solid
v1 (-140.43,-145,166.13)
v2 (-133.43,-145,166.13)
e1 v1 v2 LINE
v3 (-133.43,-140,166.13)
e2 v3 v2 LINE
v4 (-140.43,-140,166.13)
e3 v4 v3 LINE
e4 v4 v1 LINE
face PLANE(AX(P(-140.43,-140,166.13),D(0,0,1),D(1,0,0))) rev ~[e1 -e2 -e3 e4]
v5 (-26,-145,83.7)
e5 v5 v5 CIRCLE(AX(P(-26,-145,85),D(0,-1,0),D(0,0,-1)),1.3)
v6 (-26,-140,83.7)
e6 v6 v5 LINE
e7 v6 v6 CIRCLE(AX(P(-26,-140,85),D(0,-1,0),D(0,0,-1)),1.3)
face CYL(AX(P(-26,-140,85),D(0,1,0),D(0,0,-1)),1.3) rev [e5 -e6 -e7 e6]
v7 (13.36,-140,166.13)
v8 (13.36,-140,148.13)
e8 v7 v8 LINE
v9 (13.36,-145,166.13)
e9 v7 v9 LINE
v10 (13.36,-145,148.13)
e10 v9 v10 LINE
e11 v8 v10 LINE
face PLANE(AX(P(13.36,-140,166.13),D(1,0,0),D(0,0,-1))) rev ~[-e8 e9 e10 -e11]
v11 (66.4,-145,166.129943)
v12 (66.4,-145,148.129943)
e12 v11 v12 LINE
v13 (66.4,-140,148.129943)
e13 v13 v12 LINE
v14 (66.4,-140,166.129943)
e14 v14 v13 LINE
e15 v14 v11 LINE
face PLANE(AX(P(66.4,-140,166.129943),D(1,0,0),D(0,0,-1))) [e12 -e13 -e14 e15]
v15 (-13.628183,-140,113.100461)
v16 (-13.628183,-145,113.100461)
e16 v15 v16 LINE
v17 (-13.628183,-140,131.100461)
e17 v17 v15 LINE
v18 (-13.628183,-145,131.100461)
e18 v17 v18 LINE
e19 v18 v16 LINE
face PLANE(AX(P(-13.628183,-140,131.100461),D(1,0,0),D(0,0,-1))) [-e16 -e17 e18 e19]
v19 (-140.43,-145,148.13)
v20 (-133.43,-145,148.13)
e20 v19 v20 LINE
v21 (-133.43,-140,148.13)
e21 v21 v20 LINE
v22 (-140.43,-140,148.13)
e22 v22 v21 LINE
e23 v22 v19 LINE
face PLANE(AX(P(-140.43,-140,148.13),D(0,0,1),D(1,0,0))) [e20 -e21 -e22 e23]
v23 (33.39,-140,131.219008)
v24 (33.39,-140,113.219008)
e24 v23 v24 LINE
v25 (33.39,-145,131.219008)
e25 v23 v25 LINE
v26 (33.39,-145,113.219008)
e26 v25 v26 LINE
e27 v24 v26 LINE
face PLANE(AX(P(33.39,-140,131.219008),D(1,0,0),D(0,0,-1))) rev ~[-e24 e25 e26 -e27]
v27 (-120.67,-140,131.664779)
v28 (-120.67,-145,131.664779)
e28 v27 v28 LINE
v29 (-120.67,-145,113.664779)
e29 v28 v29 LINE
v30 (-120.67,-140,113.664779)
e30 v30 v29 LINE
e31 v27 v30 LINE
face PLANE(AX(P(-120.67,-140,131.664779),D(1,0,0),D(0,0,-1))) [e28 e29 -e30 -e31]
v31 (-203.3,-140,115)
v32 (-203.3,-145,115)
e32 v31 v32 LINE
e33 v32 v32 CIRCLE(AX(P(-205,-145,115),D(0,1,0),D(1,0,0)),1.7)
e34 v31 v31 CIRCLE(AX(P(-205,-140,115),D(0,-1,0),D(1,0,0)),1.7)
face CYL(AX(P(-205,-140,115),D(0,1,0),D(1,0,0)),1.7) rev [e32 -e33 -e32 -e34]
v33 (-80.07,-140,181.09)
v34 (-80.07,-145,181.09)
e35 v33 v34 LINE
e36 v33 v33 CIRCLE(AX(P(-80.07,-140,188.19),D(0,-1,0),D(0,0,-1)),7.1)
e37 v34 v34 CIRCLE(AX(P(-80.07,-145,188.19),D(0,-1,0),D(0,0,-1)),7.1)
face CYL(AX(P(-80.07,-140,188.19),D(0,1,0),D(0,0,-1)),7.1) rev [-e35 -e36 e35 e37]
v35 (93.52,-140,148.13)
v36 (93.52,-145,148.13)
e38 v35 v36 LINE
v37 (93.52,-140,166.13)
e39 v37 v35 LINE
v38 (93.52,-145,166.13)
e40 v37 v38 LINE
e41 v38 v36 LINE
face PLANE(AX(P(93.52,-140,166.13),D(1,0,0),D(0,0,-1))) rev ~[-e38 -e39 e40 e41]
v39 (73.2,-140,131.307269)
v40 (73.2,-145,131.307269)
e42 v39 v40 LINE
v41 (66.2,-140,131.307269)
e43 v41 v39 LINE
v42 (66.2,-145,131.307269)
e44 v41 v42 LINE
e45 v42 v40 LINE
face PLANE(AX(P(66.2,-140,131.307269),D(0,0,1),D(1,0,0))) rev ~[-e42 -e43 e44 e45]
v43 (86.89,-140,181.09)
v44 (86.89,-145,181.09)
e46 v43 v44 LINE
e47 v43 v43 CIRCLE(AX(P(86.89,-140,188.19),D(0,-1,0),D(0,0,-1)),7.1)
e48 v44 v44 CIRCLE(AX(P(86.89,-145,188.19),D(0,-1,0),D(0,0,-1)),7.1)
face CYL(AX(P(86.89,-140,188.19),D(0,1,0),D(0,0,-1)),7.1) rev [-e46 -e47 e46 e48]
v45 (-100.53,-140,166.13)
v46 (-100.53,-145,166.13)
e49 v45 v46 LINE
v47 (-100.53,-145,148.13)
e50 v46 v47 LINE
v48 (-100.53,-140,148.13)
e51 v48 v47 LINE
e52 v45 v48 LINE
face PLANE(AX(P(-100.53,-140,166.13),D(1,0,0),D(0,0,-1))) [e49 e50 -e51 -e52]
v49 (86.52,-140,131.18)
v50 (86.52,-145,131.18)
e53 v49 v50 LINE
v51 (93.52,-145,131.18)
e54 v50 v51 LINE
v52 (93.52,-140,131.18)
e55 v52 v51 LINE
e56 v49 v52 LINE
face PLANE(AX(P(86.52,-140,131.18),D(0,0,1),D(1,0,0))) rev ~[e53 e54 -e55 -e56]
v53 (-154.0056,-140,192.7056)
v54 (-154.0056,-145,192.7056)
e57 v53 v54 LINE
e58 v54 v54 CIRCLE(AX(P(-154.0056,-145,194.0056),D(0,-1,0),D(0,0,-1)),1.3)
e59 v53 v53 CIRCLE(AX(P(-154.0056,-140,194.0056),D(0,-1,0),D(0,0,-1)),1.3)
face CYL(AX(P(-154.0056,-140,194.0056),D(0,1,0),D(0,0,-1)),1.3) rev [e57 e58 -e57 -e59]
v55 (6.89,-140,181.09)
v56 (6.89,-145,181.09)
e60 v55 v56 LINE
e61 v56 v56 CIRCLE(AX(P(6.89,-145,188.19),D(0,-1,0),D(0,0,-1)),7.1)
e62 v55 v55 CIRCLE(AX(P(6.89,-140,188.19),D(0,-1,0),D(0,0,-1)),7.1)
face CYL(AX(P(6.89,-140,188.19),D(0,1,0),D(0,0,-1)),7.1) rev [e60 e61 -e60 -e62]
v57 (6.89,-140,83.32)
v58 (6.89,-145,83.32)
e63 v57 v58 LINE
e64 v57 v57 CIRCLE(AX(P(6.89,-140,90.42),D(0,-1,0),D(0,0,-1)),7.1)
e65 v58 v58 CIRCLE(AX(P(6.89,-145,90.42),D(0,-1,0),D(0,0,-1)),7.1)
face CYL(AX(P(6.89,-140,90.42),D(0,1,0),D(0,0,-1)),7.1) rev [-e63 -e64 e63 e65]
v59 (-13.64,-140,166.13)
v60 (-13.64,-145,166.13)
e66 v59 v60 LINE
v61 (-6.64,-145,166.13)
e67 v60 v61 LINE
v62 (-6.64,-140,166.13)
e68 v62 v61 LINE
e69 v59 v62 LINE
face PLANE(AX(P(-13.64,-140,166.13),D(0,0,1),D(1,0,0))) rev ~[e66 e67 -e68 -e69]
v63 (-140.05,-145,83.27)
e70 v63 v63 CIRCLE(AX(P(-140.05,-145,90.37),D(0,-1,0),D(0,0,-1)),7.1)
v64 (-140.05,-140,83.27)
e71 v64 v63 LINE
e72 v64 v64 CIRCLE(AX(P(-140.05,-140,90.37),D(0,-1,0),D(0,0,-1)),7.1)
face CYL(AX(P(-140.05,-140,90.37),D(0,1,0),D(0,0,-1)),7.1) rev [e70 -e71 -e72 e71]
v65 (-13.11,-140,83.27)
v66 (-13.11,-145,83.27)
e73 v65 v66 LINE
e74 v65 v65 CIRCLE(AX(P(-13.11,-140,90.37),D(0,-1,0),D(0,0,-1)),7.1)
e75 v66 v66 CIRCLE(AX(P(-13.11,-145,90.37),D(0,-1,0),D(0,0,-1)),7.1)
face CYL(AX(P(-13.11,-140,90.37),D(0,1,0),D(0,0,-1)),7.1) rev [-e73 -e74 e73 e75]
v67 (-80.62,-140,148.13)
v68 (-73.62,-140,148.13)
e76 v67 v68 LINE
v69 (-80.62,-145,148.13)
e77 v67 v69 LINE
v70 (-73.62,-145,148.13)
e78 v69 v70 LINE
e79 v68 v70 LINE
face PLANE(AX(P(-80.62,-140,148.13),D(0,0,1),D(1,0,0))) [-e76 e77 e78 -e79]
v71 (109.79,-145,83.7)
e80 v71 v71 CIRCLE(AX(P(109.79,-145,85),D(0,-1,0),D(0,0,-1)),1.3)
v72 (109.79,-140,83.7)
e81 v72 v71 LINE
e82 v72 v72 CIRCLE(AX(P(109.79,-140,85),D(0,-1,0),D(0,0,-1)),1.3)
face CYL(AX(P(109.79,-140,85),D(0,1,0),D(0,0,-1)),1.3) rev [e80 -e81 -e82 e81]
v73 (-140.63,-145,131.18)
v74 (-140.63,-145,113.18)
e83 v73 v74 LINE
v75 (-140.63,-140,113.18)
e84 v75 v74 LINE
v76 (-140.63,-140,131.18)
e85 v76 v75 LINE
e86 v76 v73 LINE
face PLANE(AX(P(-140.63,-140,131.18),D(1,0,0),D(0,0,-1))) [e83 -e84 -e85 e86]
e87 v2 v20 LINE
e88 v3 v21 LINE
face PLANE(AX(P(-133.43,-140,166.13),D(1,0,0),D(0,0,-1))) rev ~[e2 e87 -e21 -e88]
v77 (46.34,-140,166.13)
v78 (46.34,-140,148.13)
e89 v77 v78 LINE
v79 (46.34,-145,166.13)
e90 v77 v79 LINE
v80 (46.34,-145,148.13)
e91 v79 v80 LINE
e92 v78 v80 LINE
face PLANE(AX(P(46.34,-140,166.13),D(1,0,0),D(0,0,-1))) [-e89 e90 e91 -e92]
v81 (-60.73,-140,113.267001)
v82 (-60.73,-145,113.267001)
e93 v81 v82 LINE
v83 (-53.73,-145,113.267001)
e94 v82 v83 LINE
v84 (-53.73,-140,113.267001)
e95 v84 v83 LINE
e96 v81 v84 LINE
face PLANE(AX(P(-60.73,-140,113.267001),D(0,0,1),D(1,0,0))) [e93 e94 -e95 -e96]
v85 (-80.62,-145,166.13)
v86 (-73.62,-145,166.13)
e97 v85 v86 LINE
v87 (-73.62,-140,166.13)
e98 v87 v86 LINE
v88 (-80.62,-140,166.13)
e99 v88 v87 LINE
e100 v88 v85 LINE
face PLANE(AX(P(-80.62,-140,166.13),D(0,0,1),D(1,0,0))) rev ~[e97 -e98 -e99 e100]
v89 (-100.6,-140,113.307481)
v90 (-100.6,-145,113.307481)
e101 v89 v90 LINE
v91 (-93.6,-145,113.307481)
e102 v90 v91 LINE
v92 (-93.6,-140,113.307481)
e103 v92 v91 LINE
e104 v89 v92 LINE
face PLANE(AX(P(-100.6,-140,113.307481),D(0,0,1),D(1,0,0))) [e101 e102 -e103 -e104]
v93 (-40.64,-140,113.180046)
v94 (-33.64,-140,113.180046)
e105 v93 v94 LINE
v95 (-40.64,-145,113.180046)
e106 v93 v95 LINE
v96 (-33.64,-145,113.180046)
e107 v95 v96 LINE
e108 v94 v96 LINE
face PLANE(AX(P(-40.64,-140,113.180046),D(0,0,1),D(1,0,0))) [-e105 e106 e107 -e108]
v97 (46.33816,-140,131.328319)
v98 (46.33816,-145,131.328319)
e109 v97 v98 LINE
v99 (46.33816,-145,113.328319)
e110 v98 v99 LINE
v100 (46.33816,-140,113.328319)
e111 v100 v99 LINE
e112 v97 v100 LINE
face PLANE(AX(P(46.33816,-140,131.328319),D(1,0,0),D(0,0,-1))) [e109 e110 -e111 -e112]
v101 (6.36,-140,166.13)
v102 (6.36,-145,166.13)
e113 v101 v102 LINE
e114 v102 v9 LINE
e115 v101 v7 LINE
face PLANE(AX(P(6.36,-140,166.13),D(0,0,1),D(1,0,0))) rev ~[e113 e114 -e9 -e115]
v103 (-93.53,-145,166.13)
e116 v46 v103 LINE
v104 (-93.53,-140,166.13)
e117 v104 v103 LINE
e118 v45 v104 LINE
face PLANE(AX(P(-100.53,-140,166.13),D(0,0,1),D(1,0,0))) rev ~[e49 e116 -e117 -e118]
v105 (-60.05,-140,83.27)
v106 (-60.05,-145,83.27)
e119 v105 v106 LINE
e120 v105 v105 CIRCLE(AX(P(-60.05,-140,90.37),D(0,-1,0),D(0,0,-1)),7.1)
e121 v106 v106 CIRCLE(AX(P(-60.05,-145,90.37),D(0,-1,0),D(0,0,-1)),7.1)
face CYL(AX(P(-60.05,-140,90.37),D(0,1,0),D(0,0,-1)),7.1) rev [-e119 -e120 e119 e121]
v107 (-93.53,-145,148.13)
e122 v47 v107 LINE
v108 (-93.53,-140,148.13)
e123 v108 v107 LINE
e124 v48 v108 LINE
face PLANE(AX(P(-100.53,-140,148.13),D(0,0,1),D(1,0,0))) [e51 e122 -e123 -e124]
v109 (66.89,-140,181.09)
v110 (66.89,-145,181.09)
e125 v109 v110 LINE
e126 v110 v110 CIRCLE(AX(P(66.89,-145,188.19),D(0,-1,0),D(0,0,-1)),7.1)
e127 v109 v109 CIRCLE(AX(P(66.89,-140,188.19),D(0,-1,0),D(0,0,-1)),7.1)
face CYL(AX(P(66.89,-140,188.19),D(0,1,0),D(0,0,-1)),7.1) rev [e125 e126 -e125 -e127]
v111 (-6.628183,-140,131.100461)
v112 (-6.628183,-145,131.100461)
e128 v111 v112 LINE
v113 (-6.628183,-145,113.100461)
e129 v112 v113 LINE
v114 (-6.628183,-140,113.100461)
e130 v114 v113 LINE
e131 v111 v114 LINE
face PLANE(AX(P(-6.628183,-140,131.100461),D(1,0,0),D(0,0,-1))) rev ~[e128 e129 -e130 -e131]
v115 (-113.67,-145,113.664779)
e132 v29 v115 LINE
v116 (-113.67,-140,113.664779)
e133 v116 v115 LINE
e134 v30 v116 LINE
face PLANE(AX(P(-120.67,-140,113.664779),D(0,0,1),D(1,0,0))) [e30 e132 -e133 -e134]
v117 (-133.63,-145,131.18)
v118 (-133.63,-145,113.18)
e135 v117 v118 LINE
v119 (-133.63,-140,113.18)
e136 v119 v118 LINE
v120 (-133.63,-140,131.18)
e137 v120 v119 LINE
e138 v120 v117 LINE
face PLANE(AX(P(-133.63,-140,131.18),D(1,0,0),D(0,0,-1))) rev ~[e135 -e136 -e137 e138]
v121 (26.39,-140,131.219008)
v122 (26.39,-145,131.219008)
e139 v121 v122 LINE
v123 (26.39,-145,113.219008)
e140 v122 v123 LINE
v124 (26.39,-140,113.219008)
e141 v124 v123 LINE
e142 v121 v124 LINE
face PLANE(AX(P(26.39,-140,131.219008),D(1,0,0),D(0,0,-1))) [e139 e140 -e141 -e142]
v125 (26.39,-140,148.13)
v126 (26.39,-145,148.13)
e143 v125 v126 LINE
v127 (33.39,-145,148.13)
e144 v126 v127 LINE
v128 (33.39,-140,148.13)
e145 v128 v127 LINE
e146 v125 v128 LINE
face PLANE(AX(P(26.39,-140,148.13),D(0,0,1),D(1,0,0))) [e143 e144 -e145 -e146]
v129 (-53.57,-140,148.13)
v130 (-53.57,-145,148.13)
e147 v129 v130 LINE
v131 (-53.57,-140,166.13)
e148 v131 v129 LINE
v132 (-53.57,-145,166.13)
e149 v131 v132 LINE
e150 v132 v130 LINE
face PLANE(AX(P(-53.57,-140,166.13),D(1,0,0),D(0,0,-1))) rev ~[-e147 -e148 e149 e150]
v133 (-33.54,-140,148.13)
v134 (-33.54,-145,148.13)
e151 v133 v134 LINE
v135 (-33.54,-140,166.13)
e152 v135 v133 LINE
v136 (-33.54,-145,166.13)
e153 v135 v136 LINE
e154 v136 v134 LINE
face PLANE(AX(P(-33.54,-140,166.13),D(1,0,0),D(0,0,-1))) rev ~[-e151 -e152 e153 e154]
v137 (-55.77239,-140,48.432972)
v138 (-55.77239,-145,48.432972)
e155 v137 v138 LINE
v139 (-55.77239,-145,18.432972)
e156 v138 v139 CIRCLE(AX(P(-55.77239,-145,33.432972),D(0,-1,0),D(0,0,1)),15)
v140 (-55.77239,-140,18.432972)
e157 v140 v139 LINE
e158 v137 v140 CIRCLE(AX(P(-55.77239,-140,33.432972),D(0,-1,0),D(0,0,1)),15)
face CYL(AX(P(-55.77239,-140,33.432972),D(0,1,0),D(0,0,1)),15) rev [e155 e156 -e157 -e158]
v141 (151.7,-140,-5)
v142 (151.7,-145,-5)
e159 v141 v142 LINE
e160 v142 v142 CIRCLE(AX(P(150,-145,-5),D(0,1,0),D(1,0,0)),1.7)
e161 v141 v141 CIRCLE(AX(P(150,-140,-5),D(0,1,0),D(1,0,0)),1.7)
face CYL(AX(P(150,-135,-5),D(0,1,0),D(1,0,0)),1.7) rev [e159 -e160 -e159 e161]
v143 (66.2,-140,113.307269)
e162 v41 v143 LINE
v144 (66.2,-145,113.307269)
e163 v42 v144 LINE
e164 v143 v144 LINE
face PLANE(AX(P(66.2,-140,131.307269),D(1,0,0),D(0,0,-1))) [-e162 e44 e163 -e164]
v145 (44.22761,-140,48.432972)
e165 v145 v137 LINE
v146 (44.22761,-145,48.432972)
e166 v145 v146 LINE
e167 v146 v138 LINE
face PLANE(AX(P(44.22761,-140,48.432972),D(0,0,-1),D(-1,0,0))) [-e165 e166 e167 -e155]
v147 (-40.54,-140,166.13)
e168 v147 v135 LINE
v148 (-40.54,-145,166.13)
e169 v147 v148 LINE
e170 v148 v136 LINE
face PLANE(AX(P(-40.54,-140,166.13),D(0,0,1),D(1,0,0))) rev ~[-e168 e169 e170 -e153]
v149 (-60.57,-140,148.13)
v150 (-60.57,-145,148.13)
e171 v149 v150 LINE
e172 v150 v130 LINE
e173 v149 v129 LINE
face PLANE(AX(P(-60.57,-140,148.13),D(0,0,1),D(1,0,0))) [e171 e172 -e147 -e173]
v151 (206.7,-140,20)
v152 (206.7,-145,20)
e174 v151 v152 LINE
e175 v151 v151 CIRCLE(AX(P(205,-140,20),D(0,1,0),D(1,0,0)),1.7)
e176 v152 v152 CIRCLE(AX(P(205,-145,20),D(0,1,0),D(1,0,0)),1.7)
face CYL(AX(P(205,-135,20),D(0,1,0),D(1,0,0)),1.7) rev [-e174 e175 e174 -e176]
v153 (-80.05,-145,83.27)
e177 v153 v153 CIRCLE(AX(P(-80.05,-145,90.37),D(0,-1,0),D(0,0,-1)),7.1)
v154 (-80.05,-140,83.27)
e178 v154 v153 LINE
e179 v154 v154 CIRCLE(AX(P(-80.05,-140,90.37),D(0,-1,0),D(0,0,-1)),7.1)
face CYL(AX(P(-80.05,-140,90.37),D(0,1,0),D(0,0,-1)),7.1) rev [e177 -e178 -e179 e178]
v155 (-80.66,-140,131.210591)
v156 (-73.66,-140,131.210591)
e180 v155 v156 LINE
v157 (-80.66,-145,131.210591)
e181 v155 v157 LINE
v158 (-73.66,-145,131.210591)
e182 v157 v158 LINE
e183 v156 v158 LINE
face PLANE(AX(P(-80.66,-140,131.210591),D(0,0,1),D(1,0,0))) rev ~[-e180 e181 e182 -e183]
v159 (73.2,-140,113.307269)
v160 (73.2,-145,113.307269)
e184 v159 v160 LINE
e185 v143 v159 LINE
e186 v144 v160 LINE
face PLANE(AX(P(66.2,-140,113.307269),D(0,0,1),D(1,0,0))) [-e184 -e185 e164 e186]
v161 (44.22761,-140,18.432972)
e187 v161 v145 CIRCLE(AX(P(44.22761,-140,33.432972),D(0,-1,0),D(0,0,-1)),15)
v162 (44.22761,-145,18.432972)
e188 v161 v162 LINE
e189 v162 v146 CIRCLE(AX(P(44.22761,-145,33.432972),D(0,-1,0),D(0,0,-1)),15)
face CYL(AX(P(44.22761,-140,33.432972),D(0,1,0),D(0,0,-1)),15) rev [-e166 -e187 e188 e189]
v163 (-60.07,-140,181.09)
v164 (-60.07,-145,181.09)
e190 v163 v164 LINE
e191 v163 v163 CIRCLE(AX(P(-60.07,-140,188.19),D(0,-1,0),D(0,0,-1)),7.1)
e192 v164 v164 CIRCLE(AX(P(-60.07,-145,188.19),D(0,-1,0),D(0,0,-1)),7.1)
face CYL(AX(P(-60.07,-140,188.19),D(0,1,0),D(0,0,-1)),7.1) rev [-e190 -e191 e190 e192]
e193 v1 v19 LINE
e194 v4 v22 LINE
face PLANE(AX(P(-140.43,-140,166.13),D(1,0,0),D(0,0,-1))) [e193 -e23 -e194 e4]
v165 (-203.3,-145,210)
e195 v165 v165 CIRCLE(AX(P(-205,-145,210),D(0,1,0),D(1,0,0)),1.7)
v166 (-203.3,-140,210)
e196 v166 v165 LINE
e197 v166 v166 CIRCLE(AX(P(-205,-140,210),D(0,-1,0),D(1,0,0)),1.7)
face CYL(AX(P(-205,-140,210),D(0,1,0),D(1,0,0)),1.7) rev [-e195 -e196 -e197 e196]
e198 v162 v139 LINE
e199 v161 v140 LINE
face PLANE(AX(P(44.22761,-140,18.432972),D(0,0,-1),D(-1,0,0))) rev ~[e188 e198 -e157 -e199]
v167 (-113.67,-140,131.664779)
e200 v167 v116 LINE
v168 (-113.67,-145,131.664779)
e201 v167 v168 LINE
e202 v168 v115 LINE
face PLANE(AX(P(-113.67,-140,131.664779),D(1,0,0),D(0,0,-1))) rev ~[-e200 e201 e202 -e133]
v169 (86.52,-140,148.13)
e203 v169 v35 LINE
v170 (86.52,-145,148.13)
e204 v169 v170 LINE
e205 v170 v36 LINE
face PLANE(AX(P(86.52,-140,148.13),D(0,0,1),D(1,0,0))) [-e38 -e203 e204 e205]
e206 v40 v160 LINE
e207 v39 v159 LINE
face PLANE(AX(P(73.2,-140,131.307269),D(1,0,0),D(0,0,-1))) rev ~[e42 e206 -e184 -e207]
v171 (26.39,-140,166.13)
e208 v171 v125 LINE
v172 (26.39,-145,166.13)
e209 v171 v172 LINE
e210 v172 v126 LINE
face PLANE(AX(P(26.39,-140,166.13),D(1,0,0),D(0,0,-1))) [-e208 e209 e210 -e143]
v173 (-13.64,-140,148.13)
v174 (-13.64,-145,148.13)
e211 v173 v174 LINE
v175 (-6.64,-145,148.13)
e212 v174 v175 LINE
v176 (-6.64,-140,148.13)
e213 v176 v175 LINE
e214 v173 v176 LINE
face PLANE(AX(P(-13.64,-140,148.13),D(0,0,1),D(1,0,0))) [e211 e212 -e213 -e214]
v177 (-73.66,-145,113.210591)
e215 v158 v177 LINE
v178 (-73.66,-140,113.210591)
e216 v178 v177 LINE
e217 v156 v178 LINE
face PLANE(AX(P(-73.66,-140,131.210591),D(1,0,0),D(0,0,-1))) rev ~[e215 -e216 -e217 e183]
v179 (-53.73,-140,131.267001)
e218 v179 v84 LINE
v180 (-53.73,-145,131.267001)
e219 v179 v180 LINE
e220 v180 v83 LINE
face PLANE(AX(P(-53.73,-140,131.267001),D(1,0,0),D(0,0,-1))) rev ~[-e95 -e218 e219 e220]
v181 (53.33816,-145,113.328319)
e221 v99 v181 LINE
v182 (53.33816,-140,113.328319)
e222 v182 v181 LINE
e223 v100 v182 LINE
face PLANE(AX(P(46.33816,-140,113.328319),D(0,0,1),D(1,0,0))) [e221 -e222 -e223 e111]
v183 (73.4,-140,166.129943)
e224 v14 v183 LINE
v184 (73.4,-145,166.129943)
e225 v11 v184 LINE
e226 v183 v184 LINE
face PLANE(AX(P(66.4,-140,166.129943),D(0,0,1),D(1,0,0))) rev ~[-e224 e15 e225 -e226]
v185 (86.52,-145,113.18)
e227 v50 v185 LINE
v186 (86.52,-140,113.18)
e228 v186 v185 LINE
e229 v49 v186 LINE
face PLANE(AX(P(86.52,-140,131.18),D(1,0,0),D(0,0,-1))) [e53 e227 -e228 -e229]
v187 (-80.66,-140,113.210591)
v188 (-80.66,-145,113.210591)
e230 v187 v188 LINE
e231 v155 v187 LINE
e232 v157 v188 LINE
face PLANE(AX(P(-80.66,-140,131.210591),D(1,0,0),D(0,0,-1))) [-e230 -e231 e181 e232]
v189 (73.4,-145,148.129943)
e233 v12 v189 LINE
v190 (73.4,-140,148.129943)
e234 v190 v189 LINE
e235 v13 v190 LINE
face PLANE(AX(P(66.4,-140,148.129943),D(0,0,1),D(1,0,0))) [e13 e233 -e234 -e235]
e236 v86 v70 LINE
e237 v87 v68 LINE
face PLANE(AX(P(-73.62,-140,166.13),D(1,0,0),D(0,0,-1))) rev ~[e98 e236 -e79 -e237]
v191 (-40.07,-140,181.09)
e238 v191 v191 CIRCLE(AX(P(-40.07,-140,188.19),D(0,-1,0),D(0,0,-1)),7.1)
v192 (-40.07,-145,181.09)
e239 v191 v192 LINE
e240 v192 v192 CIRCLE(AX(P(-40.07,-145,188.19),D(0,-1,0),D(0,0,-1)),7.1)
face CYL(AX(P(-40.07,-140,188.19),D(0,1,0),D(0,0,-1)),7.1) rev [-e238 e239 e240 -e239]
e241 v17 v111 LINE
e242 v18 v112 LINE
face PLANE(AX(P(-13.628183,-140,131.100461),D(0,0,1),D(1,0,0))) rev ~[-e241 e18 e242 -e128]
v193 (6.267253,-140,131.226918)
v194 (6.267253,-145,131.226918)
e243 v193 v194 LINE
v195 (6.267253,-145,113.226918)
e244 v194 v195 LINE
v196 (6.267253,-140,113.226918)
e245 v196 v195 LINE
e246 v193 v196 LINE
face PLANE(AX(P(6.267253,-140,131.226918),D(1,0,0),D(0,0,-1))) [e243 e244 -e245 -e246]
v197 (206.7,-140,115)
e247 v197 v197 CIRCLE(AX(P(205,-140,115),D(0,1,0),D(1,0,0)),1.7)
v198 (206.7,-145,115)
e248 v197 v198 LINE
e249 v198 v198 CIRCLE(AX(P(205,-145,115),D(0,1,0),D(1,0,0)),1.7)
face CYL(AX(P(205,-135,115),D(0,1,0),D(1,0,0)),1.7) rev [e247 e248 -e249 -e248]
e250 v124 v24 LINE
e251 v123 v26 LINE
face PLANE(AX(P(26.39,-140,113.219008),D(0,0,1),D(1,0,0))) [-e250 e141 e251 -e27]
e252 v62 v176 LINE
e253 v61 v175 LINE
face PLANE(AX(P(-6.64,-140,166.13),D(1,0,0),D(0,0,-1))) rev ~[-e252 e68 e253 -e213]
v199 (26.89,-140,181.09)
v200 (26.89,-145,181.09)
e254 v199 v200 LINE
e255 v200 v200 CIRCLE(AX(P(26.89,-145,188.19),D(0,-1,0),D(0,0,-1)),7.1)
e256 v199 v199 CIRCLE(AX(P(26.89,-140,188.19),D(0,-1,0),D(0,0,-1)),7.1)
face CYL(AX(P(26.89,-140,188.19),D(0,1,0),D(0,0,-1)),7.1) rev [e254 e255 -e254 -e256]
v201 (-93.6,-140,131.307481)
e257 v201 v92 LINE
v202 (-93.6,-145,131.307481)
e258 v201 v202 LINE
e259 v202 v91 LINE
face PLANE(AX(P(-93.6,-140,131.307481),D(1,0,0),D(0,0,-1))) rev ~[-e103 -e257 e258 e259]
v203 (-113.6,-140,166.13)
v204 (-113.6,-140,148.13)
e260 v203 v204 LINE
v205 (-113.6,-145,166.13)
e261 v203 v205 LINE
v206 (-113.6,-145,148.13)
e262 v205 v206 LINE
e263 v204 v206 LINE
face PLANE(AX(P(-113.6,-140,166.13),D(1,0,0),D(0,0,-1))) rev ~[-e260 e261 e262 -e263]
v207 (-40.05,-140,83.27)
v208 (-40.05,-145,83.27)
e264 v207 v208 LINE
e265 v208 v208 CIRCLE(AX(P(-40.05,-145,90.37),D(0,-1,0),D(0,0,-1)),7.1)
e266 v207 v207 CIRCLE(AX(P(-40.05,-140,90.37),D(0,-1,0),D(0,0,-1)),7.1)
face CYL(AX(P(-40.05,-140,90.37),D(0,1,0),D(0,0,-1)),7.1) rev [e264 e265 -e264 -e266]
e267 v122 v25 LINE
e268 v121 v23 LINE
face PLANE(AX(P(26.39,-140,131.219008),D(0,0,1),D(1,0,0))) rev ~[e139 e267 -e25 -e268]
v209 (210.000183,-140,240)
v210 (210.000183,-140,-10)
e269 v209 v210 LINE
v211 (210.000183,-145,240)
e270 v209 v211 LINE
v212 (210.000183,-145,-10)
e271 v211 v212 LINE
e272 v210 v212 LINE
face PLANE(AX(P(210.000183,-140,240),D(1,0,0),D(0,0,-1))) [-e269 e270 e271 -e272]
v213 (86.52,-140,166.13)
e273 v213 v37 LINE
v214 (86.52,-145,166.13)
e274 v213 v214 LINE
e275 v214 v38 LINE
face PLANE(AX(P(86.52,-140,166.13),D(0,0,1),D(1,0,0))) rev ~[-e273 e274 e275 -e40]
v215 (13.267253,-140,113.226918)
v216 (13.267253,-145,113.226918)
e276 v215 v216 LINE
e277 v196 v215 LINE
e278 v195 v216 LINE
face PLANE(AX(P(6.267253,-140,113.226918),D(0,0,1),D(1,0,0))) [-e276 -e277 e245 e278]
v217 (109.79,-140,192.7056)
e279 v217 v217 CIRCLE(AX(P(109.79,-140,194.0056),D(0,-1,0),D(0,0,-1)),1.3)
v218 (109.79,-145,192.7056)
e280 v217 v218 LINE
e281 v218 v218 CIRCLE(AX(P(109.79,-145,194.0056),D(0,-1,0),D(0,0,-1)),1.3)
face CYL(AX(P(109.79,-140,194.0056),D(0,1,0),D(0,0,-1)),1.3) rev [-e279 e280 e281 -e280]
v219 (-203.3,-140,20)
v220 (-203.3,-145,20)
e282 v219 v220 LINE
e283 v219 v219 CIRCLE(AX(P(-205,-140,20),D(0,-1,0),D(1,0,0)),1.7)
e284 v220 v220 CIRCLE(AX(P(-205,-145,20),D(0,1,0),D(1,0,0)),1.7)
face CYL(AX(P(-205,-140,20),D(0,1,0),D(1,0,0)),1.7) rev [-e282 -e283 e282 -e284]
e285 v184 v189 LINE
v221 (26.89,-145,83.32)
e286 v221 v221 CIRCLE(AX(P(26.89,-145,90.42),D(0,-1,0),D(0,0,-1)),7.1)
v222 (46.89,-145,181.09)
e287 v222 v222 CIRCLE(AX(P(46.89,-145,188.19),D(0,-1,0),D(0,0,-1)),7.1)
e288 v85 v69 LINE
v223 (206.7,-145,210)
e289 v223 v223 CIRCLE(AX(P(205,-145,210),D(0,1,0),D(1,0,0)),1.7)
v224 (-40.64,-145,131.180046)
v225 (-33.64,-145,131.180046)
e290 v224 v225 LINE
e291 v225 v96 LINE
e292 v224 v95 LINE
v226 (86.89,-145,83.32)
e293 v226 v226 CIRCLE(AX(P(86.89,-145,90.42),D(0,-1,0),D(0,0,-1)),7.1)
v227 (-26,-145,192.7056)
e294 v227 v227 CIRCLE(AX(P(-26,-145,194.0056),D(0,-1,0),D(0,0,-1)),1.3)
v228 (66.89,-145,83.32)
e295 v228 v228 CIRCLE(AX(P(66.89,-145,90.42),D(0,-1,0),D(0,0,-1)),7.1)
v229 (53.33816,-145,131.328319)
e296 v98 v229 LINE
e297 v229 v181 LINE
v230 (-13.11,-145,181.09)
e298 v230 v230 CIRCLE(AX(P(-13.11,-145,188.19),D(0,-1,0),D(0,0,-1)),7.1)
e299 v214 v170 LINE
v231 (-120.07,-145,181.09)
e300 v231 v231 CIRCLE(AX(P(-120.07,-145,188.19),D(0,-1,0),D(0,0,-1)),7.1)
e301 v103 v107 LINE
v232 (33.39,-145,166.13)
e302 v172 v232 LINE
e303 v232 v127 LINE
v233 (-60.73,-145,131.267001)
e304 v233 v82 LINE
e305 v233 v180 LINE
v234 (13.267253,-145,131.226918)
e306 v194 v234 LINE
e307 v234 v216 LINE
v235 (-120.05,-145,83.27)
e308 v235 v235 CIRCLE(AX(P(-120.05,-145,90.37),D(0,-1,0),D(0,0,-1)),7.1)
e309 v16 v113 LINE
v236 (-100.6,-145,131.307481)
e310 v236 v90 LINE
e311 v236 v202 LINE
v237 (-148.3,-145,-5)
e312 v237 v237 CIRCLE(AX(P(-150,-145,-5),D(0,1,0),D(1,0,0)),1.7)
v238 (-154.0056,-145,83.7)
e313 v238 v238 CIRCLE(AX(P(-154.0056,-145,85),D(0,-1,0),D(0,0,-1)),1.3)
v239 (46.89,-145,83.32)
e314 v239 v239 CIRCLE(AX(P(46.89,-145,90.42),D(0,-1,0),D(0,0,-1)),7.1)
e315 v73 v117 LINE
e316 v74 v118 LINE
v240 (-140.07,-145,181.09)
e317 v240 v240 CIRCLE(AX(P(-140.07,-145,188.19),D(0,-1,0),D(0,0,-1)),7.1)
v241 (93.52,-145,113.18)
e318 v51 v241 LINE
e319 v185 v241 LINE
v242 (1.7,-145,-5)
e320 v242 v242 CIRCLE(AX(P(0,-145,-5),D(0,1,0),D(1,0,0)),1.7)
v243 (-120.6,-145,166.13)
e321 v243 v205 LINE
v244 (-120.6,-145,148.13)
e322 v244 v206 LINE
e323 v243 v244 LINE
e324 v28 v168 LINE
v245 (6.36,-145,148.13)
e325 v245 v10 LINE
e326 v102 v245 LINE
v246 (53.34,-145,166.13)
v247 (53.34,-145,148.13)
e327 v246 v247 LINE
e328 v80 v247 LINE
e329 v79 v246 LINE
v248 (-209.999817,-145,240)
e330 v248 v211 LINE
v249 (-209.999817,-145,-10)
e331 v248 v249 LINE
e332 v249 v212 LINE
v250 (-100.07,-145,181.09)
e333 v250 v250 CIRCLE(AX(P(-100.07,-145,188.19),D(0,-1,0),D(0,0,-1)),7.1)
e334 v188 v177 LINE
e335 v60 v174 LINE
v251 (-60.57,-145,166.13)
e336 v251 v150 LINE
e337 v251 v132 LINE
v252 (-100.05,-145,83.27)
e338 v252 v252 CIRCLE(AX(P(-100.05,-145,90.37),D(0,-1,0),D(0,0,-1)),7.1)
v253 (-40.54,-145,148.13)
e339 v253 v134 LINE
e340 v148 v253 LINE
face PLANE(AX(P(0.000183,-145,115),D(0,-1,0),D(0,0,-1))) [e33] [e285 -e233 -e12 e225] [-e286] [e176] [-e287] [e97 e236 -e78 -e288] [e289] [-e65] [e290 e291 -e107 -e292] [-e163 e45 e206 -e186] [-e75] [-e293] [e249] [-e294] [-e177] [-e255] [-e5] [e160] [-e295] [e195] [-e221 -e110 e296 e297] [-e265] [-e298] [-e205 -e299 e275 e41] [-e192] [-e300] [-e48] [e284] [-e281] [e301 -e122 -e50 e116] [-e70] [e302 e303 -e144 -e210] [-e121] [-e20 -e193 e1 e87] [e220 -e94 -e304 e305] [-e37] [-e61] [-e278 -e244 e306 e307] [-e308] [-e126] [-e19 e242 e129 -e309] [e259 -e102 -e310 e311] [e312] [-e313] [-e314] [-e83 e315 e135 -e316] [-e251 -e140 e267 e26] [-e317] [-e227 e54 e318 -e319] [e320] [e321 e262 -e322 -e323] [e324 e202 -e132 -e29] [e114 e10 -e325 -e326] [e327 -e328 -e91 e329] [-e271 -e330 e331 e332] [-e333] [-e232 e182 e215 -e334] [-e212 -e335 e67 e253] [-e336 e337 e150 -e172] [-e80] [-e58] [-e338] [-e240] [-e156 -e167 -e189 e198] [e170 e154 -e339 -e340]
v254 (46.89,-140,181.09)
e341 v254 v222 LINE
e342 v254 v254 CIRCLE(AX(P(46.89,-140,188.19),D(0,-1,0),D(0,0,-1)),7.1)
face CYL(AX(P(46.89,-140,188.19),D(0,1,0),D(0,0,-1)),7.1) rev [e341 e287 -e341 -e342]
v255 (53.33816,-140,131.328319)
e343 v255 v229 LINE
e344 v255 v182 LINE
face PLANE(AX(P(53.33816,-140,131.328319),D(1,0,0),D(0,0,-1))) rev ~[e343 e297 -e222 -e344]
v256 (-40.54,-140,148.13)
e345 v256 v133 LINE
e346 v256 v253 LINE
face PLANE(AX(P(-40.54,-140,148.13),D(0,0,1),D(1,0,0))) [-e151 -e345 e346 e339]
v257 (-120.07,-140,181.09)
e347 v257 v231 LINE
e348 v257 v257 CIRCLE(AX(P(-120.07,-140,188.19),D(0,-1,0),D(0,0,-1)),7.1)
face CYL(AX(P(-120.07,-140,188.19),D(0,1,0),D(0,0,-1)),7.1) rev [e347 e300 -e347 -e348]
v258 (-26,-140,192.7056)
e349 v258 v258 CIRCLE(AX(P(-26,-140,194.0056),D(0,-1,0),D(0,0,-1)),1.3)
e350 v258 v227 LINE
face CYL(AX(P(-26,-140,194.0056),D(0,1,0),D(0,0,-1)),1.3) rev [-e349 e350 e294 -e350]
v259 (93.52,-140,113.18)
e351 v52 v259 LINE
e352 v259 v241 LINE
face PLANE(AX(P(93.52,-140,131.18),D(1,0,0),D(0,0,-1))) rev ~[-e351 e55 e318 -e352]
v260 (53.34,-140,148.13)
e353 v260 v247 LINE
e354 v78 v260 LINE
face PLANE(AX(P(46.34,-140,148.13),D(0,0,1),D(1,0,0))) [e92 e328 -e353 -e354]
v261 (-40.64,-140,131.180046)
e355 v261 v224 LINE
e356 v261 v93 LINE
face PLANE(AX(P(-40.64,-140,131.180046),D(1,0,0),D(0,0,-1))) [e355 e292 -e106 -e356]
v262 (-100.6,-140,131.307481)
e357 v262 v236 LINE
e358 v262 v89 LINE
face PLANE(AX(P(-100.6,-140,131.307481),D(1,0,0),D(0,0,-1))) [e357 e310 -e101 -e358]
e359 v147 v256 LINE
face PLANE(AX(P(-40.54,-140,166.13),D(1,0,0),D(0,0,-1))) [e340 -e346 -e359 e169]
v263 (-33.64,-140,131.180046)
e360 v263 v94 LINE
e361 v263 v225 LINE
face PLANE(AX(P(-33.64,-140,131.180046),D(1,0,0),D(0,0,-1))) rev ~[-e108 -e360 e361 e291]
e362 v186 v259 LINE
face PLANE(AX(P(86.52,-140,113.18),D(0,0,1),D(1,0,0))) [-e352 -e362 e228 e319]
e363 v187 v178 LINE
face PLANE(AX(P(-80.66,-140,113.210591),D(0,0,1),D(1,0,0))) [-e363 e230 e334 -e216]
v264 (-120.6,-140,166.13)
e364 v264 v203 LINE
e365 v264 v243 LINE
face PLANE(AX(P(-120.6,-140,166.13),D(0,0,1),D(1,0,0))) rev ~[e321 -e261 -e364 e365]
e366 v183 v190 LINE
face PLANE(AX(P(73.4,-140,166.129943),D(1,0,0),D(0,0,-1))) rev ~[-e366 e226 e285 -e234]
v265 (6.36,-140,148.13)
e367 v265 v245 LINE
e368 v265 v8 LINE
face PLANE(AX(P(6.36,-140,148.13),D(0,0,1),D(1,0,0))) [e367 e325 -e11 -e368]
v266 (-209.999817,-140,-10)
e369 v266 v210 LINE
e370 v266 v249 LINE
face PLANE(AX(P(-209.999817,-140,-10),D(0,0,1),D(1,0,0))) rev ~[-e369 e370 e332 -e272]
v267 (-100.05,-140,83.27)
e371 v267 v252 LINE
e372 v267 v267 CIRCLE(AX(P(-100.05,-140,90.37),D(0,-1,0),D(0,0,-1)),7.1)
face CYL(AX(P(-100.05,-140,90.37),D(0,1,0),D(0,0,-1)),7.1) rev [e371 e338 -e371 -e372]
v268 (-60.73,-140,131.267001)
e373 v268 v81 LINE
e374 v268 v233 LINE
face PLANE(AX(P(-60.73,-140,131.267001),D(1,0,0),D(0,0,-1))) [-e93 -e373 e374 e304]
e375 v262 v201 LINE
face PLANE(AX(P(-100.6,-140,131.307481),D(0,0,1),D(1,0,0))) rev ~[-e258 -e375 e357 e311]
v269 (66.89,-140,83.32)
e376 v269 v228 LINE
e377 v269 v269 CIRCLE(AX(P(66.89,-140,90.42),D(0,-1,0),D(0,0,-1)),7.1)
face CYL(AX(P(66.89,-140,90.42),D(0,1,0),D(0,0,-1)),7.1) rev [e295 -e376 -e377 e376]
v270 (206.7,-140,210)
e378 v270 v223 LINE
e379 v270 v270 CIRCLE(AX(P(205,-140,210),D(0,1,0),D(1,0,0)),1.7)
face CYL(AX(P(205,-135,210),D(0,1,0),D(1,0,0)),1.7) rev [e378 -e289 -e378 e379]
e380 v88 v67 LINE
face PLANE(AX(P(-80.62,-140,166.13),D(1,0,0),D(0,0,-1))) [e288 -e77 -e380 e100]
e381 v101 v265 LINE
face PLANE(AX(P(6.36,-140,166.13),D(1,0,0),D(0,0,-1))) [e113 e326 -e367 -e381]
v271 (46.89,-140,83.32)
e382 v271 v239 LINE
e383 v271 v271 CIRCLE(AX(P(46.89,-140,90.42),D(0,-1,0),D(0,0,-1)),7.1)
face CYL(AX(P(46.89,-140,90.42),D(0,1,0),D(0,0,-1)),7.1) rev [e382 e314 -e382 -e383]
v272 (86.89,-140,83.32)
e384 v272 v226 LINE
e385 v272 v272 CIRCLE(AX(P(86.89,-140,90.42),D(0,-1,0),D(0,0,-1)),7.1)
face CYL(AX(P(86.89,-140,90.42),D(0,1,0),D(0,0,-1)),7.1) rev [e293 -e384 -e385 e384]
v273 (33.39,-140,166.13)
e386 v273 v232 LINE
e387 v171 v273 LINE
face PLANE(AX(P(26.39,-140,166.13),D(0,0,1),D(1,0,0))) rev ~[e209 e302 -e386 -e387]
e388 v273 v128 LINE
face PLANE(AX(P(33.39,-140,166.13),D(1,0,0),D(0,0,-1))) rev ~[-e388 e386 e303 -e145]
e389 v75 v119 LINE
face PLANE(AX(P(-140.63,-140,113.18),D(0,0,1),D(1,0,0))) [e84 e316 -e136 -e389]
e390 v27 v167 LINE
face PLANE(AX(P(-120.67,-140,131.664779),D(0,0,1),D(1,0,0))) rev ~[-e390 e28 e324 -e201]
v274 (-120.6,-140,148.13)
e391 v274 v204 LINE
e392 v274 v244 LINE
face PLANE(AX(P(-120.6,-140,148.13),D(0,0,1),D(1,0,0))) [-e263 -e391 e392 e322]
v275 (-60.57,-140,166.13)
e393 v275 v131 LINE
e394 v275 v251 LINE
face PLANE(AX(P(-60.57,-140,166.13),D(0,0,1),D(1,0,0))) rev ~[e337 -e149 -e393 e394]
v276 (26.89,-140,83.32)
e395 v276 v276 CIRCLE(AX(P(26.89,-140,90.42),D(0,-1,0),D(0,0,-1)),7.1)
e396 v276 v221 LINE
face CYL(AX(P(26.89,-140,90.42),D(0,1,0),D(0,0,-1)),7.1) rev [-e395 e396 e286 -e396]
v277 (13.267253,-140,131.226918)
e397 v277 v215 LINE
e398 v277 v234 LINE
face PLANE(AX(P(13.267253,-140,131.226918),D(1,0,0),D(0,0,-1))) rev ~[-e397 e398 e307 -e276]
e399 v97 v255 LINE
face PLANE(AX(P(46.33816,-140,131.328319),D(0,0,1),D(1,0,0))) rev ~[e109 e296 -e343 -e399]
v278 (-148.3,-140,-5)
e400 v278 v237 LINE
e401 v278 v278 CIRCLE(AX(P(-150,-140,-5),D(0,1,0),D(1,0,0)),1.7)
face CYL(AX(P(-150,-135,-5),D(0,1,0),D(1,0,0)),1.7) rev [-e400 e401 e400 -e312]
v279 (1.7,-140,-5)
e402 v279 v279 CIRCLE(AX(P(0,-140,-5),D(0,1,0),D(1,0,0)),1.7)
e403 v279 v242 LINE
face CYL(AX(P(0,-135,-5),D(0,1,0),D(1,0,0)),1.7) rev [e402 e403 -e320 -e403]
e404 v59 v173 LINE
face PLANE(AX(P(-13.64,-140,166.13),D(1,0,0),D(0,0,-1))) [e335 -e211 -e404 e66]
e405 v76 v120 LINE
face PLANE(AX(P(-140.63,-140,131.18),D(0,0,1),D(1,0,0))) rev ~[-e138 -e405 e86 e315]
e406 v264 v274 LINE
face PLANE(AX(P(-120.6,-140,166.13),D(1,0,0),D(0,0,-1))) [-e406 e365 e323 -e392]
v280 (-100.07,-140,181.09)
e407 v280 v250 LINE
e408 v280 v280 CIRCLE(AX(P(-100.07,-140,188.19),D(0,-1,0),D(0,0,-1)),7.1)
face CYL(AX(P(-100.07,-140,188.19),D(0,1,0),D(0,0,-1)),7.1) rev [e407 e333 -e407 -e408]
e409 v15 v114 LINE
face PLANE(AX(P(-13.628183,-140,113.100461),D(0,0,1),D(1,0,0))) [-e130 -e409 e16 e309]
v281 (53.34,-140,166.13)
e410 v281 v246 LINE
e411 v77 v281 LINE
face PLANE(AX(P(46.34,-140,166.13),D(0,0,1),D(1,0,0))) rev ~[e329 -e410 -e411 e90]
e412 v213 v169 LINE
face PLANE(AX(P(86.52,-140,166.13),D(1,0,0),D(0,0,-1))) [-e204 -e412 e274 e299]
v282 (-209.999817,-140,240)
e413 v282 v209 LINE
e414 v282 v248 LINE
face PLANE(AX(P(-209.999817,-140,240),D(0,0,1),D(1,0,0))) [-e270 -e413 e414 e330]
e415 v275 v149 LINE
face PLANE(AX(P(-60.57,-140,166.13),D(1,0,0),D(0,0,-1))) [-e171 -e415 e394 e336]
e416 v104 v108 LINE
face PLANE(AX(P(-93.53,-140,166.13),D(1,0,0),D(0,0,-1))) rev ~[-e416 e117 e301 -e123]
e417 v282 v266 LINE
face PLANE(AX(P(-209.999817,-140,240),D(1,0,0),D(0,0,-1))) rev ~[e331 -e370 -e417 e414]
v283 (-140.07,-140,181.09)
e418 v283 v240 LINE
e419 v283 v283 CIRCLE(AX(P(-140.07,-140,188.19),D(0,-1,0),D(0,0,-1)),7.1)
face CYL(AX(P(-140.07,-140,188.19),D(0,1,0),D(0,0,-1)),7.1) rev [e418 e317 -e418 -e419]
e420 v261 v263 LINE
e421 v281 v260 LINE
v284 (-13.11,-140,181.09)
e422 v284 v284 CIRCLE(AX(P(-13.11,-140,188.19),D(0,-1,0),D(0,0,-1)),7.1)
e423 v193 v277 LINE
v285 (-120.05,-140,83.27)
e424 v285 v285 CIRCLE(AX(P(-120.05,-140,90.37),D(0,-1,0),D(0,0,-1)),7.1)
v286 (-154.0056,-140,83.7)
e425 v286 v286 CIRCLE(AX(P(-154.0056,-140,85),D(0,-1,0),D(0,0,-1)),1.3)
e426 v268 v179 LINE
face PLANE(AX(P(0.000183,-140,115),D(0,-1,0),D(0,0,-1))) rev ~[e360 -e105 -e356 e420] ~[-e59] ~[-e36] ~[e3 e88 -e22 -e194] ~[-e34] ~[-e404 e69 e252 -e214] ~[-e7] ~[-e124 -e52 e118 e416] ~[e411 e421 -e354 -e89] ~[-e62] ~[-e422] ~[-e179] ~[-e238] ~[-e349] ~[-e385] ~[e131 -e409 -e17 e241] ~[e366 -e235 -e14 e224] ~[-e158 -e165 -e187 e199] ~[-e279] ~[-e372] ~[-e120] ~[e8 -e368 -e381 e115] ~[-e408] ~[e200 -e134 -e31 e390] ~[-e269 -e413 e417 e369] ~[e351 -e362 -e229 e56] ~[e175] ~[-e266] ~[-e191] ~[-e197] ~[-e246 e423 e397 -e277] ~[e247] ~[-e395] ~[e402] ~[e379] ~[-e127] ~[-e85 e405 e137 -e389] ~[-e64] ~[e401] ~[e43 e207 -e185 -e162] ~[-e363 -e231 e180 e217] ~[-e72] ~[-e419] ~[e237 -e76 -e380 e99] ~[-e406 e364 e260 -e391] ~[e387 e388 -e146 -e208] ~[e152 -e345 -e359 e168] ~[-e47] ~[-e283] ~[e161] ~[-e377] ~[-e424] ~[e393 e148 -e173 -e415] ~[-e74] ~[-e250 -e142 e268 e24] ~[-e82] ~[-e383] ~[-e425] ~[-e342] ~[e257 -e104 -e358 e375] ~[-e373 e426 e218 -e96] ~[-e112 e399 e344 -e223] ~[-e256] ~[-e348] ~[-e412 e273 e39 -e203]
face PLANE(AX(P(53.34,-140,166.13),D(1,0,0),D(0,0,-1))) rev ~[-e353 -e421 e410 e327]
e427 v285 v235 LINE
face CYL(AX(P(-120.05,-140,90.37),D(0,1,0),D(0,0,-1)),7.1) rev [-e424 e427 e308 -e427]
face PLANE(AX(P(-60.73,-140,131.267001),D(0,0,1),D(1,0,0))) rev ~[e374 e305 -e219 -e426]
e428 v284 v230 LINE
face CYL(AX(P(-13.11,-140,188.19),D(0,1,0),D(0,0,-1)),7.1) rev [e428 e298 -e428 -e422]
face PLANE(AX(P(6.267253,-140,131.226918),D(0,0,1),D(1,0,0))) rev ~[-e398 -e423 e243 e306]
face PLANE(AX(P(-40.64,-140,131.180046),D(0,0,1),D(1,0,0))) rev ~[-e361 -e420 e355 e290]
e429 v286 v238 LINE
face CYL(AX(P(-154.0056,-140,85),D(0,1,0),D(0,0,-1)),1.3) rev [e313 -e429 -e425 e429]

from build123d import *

# Parameters (mm, degrees)
CYLINDER045_R          = 1.7
CYLINDER045_DEPTH      = 20
CYLINDER045_ROLL_ANGLE = 90
CYLINDER044_R          = 1.7
CYLINDER044_DEPTH      = 20
CYLINDER044_ROLL_ANGLE = 90
CYLINDER043_R          = 1.7
CYLINDER043_DEPTH      = 20
CYLINDER043_ROLL_ANGLE = 90
CYLINDER040_R          = 1.7
CYLINDER040_DEPTH      = 20
CYLINDER040_ROLL_ANGLE = 90
CYLINDER041_R          = 1.7
CYLINDER041_DEPTH      = 20
CYLINDER041_ROLL_ANGLE = 90
CYLINDER042_R          = 1.7
CYLINDER042_DEPTH      = 20
CYLINDER042_ROLL_ANGLE = 90
SKETCH022_R            = 1.7
PAD020_DEPTH           = 20
SKETCH009_W            = 250
SKETCH009_H            = 420
SKETCH009_R            = 7.1
SKETCH009_R_2          = 1.3
SKETCH009_W_2          = 18
SKETCH009_H_2          = 7
PAD009_DEPTH           = 5


with BuildPart() as cylinder045:
    # Cylinder045 → Cylinder045 (new body)
    with BuildSketch(Plane.XY):
        Circle(CYLINDER045_R)
    extrude(amount=CYLINDER045_DEPTH)


with BuildPart() as cylinder045_1:
    # Cylinder045 roll: moved
    add(cylinder045.part.rotate(Axis((0, 0, 0), (1, 0, 0)), CYLINDER045_ROLL_ANGLE))


with BuildPart() as cylinder045_2:
    # Cylinder045 placement: moved
    add(cylinder045_1.part.moved(Location((-205, -140, 210))))


with BuildPart() as cylinder044:
    # Cylinder044 → Cylinder044 (new body)
    with BuildSketch(Plane.XY):
        Circle(CYLINDER044_R)
    extrude(amount=CYLINDER044_DEPTH)


with BuildPart() as cylinder044_1:
    # Cylinder044 roll: moved
    add(cylinder044.part.rotate(Axis((0, 0, 0), (1, 0, 0)), CYLINDER044_ROLL_ANGLE))


with BuildPart() as cylinder044_2:
    # Cylinder044 placement: moved
    add(cylinder044_1.part.moved(Location((-205, -140, 20))))


with BuildPart() as cylinder043:
    # Cylinder043 → Cylinder043 (new body)
    with BuildSketch(Plane.XY):
        Circle(CYLINDER043_R)
    extrude(amount=CYLINDER043_DEPTH)


with BuildPart() as cylinder043_1:
    # Cylinder043 roll: moved
    add(cylinder043.part.rotate(Axis((0, 0, 0), (1, 0, 0)), CYLINDER043_ROLL_ANGLE))


with BuildPart() as cylinder043_2:
    # Cylinder043 placement: moved
    add(cylinder043_1.part.moved(Location((-205, -140, 115))))


with BuildPart() as cylinder040:
    # Cylinder040 → Cylinder040 (new body)
    with BuildSketch(Plane.XY):
        Circle(CYLINDER040_R)
    extrude(amount=CYLINDER040_DEPTH)


with BuildPart() as cylinder040_1:
    # Cylinder040 roll: moved
    add(cylinder040.part.rotate(Axis((0, 0, 0), (1, 0, 0)), CYLINDER040_ROLL_ANGLE))


with BuildPart() as cylinder040_2:
    # Cylinder040 placement: moved
    add(cylinder040_1.part.moved(Location((205, -135, 20))))


with BuildPart() as cylinder041:
    # Cylinder041 → Cylinder041 (new body)
    with BuildSketch(Plane.XY):
        Circle(CYLINDER041_R)
    extrude(amount=CYLINDER041_DEPTH)


with BuildPart() as cylinder041_1:
    # Cylinder041 roll: moved
    add(cylinder041.part.rotate(Axis((0, 0, 0), (1, 0, 0)), CYLINDER041_ROLL_ANGLE))


with BuildPart() as cylinder041_2:
    # Cylinder041 placement: moved
    add(cylinder041_1.part.moved(Location((205, -135, 115))))


with BuildPart() as cylinder042:
    # Cylinder042 → Cylinder042 (new body)
    with BuildSketch(Plane.XY):
        Circle(CYLINDER042_R)
    extrude(amount=CYLINDER042_DEPTH)


with BuildPart() as cylinder042_1:
    # Cylinder042 roll: moved
    add(cylinder042.part.rotate(Axis((0, 0, 0), (1, 0, 0)), CYLINDER042_ROLL_ANGLE))


with BuildPart() as cylinder042_2:
    # Cylinder042 placement: moved
    add(cylinder042_1.part.moved(Location((205, -135, 210))))


with BuildPart() as fusion014:
    # Sketch022 → Pad020 (new body)
    with BuildSketch(Plane.XZ.offset(135)):
        with Locations((-150, -5)):
            Circle(SKETCH022_R)
        with Locations((0, -5)):
            Circle(SKETCH022_R)
        with Locations((150, -5)):
            Circle(SKETCH022_R)
    extrude(amount=PAD020_DEPTH)

    # Fusion014: union Cylinder045, Cylinder044, Cylinder043, Cylinder040, Cylinder041, Cylinder042
    add(cylinder045_2.part)
    add(cylinder044_2.part)
    add(cylinder043_2.part)
    add(cylinder040_2.part)
    add(cylinder041_2.part)
    add(cylinder042_2.part)


with BuildPart() as cut017:
    # Sketch009 → Pad009 (new body)
    with BuildSketch(Plane(origin=(-160, -140, 200), x_dir=(0, 0, -1), z_dir=(0, -1, 0))):
        with Locations((85, 160.000183)):
            Rectangle(SKETCH009_W, SKETCH009_H)
        with Locations((11.81, 19.93)):
            Circle(SKETCH009_R, mode=Mode.SUBTRACT)
        with Locations((11.81, 39.93)):
            Circle(SKETCH009_R, mode=Mode.SUBTRACT)
        with Locations((11.81, 59.93)):
            Circle(SKETCH009_R, mode=Mode.SUBTRACT)
        with Locations((11.81, 79.93)):
            Circle(SKETCH009_R, mode=Mode.SUBTRACT)
        with Locations((11.81, 99.93)):
            Circle(SKETCH009_R, mode=Mode.SUBTRACT)
        with Locations((11.81, 119.93)):
            Circle(SKETCH009_R, mode=Mode.SUBTRACT)
        with Locations((11.81, 146.89)):
            Circle(SKETCH009_R, mode=Mode.SUBTRACT)
        with Locations((11.81, 166.89)):
            Circle(SKETCH009_R, mode=Mode.SUBTRACT)
        with Locations((11.81, 186.89)):
            Circle(SKETCH009_R, mode=Mode.SUBTRACT)
        with Locations((11.81, 246.89)):
            Circle(SKETCH009_R, mode=Mode.SUBTRACT)
        with Locations((109.58, 246.89)):
            Circle(SKETCH009_R, mode=Mode.SUBTRACT)
        with Locations((11.81, 226.89)):
            Circle(SKETCH009_R, mode=Mode.SUBTRACT)
        with Locations((11.81, 206.89)):
            Circle(SKETCH009_R, mode=Mode.SUBTRACT)
        with Locations((109.58, 186.89)):
            Circle(SKETCH009_R, mode=Mode.SUBTRACT)
        with Locations((109.58, 226.89)):
            Circle(SKETCH009_R, mode=Mode.SUBTRACT)
        with Locations((109.58, 206.89)):
            Circle(SKETCH009_R, mode=Mode.SUBTRACT)
        with Locations((109.58, 166.89)):
            Circle(SKETCH009_R, mode=Mode.SUBTRACT)
        with Locations((109.63, 146.89)):
            Circle(SKETCH009_R, mode=Mode.SUBTRACT)
        with Locations((109.63, 119.95)):
            Circle(SKETCH009_R, mode=Mode.SUBTRACT)
        with Locations((109.63, 99.95)):
            Circle(SKETCH009_R, mode=Mode.SUBTRACT)
        with Locations((109.63, 79.95)):
            Circle(SKETCH009_R, mode=Mode.SUBTRACT)
        with Locations((109.63, 59.95)):
            Circle(SKETCH009_R, mode=Mode.SUBTRACT)
        with Locations((109.63, 39.95)):
            Circle(SKETCH009_R, mode=Mode.SUBTRACT)
        with Locations((109.63, 19.95)):
            Circle(SKETCH009_R, mode=Mode.SUBTRACT)
        with Locations((5.9944, 5.9944)):
            Circle(SKETCH009_R_2, mode=Mode.SUBTRACT)
        with Locations((5.9944, 134)):
            Circle(SKETCH009_R_2, mode=Mode.SUBTRACT)
        with Locations((5.9944, 269.79)):
            Circle(SKETCH009_R_2, mode=Mode.SUBTRACT)
        with Locations((115, 269.79)):
            Circle(SKETCH009_R_2, mode=Mode.SUBTRACT)
        with Locations((115, 5.9944)):
            Circle(SKETCH009_R_2, mode=Mode.SUBTRACT)
        with Locations((115, 134)):
            Circle(SKETCH009_R_2, mode=Mode.SUBTRACT)
        with Locations((42.87, 23.07)):
            Rectangle(SKETCH009_W_2, SKETCH009_H_2, mode=Mode.SUBTRACT)
        with Locations((42.87, 62.97)):
            Rectangle(SKETCH009_W_2, SKETCH009_H_2, mode=Mode.SUBTRACT)
        with Locations((42.87, 82.88)):
            Rectangle(SKETCH009_W_2, SKETCH009_H_2, mode=Mode.SUBTRACT)
        with Locations((42.87, 42.9)):
            Rectangle(SKETCH009_W_2, SKETCH009_H_2, mode=Mode.SUBTRACT)
        with Locations((42.87, 149.86)):
            Rectangle(SKETCH009_W_2, SKETCH009_H_2, mode=Mode.SUBTRACT)
        with Locations((42.87, 122.96)):
            Rectangle(SKETCH009_W_2, SKETCH009_H_2, mode=Mode.SUBTRACT)
        with Locations((42.87, 102.93)):
            Rectangle(SKETCH009_W_2, SKETCH009_H_2, mode=Mode.SUBTRACT)
        with Locations((42.87, 169.86)):
            Rectangle(SKETCH009_W_2, SKETCH009_H_2, mode=Mode.SUBTRACT)
        with Locations((42.87, 209.84)):
            Rectangle(SKETCH009_W_2, SKETCH009_H_2, mode=Mode.SUBTRACT)
        with Locations((42.87, 189.89)):
            Rectangle(SKETCH009_W_2, SKETCH009_H_2, mode=Mode.SUBTRACT)
        with Locations((42.87, 250.02)):
            Rectangle(SKETCH009_W_2, SKETCH009_H_2, mode=Mode.SUBTRACT)
        with Locations((42.870057, 229.9)):
            Rectangle(SKETCH009_W_2, SKETCH009_H_2, mode=Mode.SUBTRACT)
        with Locations((77.82, 22.87)):
            Rectangle(SKETCH009_W_2, SKETCH009_H_2, mode=Mode.SUBTRACT)
        with Locations((77.335221, 42.83)):
            Rectangle(SKETCH009_W_2, SKETCH009_H_2, mode=Mode.SUBTRACT)
        with Locations((77.692519, 62.9)):
            Rectangle(SKETCH009_W_2, SKETCH009_H_2, mode=Mode.SUBTRACT)
        with Locations((77.789409, 82.84)):
            Rectangle(SKETCH009_W_2, SKETCH009_H_2, mode=Mode.SUBTRACT)
        with Locations((77.732999, 102.77)):
            Rectangle(SKETCH009_W_2, SKETCH009_H_2, mode=Mode.SUBTRACT)
        with Locations((77.819954, 122.86)):
            Rectangle(SKETCH009_W_2, SKETCH009_H_2, mode=Mode.SUBTRACT)
        with Locations((77.899539, 149.871817)):
            Rectangle(SKETCH009_W_2, SKETCH009_H_2, mode=Mode.SUBTRACT)
        with Locations((77.773082, 169.767253)):
            Rectangle(SKETCH009_W_2, SKETCH009_H_2, mode=Mode.SUBTRACT)
        with Locations((77.780992, 189.89)):
            Rectangle(SKETCH009_W_2, SKETCH009_H_2, mode=Mode.SUBTRACT)
        with Locations((77.671681, 209.83816)):
            Rectangle(SKETCH009_W_2, SKETCH009_H_2, mode=Mode.SUBTRACT)
        with Locations((77.692731, 229.7)):
            Rectangle(SKETCH009_W_2, SKETCH009_H_2, mode=Mode.SUBTRACT)
        with Locations((77.82, 250.02)):
            Rectangle(SKETCH009_W_2, SKETCH009_H_2, mode=Mode.SUBTRACT)
        with BuildLine():
            ThreePointArc((181.567028, 204.22761), (166.567028, 219.22761), (151.567028, 204.22761))
            Line((151.567028, 204.22761), (151.567028, 104.22761))
            ThreePointArc((151.567028, 104.22761), (166.567028, 89.22761), (181.567028, 104.22761))
            Line((181.567028, 204.22761), (181.567028, 104.22761))
        make_face(mode=Mode.SUBTRACT)
    extrude(amount=PAD009_DEPTH)

    # Cut017: cut Fusion014
    add(fusion014.part, mode=Mode.SUBTRACT)


solid = cut017.part
